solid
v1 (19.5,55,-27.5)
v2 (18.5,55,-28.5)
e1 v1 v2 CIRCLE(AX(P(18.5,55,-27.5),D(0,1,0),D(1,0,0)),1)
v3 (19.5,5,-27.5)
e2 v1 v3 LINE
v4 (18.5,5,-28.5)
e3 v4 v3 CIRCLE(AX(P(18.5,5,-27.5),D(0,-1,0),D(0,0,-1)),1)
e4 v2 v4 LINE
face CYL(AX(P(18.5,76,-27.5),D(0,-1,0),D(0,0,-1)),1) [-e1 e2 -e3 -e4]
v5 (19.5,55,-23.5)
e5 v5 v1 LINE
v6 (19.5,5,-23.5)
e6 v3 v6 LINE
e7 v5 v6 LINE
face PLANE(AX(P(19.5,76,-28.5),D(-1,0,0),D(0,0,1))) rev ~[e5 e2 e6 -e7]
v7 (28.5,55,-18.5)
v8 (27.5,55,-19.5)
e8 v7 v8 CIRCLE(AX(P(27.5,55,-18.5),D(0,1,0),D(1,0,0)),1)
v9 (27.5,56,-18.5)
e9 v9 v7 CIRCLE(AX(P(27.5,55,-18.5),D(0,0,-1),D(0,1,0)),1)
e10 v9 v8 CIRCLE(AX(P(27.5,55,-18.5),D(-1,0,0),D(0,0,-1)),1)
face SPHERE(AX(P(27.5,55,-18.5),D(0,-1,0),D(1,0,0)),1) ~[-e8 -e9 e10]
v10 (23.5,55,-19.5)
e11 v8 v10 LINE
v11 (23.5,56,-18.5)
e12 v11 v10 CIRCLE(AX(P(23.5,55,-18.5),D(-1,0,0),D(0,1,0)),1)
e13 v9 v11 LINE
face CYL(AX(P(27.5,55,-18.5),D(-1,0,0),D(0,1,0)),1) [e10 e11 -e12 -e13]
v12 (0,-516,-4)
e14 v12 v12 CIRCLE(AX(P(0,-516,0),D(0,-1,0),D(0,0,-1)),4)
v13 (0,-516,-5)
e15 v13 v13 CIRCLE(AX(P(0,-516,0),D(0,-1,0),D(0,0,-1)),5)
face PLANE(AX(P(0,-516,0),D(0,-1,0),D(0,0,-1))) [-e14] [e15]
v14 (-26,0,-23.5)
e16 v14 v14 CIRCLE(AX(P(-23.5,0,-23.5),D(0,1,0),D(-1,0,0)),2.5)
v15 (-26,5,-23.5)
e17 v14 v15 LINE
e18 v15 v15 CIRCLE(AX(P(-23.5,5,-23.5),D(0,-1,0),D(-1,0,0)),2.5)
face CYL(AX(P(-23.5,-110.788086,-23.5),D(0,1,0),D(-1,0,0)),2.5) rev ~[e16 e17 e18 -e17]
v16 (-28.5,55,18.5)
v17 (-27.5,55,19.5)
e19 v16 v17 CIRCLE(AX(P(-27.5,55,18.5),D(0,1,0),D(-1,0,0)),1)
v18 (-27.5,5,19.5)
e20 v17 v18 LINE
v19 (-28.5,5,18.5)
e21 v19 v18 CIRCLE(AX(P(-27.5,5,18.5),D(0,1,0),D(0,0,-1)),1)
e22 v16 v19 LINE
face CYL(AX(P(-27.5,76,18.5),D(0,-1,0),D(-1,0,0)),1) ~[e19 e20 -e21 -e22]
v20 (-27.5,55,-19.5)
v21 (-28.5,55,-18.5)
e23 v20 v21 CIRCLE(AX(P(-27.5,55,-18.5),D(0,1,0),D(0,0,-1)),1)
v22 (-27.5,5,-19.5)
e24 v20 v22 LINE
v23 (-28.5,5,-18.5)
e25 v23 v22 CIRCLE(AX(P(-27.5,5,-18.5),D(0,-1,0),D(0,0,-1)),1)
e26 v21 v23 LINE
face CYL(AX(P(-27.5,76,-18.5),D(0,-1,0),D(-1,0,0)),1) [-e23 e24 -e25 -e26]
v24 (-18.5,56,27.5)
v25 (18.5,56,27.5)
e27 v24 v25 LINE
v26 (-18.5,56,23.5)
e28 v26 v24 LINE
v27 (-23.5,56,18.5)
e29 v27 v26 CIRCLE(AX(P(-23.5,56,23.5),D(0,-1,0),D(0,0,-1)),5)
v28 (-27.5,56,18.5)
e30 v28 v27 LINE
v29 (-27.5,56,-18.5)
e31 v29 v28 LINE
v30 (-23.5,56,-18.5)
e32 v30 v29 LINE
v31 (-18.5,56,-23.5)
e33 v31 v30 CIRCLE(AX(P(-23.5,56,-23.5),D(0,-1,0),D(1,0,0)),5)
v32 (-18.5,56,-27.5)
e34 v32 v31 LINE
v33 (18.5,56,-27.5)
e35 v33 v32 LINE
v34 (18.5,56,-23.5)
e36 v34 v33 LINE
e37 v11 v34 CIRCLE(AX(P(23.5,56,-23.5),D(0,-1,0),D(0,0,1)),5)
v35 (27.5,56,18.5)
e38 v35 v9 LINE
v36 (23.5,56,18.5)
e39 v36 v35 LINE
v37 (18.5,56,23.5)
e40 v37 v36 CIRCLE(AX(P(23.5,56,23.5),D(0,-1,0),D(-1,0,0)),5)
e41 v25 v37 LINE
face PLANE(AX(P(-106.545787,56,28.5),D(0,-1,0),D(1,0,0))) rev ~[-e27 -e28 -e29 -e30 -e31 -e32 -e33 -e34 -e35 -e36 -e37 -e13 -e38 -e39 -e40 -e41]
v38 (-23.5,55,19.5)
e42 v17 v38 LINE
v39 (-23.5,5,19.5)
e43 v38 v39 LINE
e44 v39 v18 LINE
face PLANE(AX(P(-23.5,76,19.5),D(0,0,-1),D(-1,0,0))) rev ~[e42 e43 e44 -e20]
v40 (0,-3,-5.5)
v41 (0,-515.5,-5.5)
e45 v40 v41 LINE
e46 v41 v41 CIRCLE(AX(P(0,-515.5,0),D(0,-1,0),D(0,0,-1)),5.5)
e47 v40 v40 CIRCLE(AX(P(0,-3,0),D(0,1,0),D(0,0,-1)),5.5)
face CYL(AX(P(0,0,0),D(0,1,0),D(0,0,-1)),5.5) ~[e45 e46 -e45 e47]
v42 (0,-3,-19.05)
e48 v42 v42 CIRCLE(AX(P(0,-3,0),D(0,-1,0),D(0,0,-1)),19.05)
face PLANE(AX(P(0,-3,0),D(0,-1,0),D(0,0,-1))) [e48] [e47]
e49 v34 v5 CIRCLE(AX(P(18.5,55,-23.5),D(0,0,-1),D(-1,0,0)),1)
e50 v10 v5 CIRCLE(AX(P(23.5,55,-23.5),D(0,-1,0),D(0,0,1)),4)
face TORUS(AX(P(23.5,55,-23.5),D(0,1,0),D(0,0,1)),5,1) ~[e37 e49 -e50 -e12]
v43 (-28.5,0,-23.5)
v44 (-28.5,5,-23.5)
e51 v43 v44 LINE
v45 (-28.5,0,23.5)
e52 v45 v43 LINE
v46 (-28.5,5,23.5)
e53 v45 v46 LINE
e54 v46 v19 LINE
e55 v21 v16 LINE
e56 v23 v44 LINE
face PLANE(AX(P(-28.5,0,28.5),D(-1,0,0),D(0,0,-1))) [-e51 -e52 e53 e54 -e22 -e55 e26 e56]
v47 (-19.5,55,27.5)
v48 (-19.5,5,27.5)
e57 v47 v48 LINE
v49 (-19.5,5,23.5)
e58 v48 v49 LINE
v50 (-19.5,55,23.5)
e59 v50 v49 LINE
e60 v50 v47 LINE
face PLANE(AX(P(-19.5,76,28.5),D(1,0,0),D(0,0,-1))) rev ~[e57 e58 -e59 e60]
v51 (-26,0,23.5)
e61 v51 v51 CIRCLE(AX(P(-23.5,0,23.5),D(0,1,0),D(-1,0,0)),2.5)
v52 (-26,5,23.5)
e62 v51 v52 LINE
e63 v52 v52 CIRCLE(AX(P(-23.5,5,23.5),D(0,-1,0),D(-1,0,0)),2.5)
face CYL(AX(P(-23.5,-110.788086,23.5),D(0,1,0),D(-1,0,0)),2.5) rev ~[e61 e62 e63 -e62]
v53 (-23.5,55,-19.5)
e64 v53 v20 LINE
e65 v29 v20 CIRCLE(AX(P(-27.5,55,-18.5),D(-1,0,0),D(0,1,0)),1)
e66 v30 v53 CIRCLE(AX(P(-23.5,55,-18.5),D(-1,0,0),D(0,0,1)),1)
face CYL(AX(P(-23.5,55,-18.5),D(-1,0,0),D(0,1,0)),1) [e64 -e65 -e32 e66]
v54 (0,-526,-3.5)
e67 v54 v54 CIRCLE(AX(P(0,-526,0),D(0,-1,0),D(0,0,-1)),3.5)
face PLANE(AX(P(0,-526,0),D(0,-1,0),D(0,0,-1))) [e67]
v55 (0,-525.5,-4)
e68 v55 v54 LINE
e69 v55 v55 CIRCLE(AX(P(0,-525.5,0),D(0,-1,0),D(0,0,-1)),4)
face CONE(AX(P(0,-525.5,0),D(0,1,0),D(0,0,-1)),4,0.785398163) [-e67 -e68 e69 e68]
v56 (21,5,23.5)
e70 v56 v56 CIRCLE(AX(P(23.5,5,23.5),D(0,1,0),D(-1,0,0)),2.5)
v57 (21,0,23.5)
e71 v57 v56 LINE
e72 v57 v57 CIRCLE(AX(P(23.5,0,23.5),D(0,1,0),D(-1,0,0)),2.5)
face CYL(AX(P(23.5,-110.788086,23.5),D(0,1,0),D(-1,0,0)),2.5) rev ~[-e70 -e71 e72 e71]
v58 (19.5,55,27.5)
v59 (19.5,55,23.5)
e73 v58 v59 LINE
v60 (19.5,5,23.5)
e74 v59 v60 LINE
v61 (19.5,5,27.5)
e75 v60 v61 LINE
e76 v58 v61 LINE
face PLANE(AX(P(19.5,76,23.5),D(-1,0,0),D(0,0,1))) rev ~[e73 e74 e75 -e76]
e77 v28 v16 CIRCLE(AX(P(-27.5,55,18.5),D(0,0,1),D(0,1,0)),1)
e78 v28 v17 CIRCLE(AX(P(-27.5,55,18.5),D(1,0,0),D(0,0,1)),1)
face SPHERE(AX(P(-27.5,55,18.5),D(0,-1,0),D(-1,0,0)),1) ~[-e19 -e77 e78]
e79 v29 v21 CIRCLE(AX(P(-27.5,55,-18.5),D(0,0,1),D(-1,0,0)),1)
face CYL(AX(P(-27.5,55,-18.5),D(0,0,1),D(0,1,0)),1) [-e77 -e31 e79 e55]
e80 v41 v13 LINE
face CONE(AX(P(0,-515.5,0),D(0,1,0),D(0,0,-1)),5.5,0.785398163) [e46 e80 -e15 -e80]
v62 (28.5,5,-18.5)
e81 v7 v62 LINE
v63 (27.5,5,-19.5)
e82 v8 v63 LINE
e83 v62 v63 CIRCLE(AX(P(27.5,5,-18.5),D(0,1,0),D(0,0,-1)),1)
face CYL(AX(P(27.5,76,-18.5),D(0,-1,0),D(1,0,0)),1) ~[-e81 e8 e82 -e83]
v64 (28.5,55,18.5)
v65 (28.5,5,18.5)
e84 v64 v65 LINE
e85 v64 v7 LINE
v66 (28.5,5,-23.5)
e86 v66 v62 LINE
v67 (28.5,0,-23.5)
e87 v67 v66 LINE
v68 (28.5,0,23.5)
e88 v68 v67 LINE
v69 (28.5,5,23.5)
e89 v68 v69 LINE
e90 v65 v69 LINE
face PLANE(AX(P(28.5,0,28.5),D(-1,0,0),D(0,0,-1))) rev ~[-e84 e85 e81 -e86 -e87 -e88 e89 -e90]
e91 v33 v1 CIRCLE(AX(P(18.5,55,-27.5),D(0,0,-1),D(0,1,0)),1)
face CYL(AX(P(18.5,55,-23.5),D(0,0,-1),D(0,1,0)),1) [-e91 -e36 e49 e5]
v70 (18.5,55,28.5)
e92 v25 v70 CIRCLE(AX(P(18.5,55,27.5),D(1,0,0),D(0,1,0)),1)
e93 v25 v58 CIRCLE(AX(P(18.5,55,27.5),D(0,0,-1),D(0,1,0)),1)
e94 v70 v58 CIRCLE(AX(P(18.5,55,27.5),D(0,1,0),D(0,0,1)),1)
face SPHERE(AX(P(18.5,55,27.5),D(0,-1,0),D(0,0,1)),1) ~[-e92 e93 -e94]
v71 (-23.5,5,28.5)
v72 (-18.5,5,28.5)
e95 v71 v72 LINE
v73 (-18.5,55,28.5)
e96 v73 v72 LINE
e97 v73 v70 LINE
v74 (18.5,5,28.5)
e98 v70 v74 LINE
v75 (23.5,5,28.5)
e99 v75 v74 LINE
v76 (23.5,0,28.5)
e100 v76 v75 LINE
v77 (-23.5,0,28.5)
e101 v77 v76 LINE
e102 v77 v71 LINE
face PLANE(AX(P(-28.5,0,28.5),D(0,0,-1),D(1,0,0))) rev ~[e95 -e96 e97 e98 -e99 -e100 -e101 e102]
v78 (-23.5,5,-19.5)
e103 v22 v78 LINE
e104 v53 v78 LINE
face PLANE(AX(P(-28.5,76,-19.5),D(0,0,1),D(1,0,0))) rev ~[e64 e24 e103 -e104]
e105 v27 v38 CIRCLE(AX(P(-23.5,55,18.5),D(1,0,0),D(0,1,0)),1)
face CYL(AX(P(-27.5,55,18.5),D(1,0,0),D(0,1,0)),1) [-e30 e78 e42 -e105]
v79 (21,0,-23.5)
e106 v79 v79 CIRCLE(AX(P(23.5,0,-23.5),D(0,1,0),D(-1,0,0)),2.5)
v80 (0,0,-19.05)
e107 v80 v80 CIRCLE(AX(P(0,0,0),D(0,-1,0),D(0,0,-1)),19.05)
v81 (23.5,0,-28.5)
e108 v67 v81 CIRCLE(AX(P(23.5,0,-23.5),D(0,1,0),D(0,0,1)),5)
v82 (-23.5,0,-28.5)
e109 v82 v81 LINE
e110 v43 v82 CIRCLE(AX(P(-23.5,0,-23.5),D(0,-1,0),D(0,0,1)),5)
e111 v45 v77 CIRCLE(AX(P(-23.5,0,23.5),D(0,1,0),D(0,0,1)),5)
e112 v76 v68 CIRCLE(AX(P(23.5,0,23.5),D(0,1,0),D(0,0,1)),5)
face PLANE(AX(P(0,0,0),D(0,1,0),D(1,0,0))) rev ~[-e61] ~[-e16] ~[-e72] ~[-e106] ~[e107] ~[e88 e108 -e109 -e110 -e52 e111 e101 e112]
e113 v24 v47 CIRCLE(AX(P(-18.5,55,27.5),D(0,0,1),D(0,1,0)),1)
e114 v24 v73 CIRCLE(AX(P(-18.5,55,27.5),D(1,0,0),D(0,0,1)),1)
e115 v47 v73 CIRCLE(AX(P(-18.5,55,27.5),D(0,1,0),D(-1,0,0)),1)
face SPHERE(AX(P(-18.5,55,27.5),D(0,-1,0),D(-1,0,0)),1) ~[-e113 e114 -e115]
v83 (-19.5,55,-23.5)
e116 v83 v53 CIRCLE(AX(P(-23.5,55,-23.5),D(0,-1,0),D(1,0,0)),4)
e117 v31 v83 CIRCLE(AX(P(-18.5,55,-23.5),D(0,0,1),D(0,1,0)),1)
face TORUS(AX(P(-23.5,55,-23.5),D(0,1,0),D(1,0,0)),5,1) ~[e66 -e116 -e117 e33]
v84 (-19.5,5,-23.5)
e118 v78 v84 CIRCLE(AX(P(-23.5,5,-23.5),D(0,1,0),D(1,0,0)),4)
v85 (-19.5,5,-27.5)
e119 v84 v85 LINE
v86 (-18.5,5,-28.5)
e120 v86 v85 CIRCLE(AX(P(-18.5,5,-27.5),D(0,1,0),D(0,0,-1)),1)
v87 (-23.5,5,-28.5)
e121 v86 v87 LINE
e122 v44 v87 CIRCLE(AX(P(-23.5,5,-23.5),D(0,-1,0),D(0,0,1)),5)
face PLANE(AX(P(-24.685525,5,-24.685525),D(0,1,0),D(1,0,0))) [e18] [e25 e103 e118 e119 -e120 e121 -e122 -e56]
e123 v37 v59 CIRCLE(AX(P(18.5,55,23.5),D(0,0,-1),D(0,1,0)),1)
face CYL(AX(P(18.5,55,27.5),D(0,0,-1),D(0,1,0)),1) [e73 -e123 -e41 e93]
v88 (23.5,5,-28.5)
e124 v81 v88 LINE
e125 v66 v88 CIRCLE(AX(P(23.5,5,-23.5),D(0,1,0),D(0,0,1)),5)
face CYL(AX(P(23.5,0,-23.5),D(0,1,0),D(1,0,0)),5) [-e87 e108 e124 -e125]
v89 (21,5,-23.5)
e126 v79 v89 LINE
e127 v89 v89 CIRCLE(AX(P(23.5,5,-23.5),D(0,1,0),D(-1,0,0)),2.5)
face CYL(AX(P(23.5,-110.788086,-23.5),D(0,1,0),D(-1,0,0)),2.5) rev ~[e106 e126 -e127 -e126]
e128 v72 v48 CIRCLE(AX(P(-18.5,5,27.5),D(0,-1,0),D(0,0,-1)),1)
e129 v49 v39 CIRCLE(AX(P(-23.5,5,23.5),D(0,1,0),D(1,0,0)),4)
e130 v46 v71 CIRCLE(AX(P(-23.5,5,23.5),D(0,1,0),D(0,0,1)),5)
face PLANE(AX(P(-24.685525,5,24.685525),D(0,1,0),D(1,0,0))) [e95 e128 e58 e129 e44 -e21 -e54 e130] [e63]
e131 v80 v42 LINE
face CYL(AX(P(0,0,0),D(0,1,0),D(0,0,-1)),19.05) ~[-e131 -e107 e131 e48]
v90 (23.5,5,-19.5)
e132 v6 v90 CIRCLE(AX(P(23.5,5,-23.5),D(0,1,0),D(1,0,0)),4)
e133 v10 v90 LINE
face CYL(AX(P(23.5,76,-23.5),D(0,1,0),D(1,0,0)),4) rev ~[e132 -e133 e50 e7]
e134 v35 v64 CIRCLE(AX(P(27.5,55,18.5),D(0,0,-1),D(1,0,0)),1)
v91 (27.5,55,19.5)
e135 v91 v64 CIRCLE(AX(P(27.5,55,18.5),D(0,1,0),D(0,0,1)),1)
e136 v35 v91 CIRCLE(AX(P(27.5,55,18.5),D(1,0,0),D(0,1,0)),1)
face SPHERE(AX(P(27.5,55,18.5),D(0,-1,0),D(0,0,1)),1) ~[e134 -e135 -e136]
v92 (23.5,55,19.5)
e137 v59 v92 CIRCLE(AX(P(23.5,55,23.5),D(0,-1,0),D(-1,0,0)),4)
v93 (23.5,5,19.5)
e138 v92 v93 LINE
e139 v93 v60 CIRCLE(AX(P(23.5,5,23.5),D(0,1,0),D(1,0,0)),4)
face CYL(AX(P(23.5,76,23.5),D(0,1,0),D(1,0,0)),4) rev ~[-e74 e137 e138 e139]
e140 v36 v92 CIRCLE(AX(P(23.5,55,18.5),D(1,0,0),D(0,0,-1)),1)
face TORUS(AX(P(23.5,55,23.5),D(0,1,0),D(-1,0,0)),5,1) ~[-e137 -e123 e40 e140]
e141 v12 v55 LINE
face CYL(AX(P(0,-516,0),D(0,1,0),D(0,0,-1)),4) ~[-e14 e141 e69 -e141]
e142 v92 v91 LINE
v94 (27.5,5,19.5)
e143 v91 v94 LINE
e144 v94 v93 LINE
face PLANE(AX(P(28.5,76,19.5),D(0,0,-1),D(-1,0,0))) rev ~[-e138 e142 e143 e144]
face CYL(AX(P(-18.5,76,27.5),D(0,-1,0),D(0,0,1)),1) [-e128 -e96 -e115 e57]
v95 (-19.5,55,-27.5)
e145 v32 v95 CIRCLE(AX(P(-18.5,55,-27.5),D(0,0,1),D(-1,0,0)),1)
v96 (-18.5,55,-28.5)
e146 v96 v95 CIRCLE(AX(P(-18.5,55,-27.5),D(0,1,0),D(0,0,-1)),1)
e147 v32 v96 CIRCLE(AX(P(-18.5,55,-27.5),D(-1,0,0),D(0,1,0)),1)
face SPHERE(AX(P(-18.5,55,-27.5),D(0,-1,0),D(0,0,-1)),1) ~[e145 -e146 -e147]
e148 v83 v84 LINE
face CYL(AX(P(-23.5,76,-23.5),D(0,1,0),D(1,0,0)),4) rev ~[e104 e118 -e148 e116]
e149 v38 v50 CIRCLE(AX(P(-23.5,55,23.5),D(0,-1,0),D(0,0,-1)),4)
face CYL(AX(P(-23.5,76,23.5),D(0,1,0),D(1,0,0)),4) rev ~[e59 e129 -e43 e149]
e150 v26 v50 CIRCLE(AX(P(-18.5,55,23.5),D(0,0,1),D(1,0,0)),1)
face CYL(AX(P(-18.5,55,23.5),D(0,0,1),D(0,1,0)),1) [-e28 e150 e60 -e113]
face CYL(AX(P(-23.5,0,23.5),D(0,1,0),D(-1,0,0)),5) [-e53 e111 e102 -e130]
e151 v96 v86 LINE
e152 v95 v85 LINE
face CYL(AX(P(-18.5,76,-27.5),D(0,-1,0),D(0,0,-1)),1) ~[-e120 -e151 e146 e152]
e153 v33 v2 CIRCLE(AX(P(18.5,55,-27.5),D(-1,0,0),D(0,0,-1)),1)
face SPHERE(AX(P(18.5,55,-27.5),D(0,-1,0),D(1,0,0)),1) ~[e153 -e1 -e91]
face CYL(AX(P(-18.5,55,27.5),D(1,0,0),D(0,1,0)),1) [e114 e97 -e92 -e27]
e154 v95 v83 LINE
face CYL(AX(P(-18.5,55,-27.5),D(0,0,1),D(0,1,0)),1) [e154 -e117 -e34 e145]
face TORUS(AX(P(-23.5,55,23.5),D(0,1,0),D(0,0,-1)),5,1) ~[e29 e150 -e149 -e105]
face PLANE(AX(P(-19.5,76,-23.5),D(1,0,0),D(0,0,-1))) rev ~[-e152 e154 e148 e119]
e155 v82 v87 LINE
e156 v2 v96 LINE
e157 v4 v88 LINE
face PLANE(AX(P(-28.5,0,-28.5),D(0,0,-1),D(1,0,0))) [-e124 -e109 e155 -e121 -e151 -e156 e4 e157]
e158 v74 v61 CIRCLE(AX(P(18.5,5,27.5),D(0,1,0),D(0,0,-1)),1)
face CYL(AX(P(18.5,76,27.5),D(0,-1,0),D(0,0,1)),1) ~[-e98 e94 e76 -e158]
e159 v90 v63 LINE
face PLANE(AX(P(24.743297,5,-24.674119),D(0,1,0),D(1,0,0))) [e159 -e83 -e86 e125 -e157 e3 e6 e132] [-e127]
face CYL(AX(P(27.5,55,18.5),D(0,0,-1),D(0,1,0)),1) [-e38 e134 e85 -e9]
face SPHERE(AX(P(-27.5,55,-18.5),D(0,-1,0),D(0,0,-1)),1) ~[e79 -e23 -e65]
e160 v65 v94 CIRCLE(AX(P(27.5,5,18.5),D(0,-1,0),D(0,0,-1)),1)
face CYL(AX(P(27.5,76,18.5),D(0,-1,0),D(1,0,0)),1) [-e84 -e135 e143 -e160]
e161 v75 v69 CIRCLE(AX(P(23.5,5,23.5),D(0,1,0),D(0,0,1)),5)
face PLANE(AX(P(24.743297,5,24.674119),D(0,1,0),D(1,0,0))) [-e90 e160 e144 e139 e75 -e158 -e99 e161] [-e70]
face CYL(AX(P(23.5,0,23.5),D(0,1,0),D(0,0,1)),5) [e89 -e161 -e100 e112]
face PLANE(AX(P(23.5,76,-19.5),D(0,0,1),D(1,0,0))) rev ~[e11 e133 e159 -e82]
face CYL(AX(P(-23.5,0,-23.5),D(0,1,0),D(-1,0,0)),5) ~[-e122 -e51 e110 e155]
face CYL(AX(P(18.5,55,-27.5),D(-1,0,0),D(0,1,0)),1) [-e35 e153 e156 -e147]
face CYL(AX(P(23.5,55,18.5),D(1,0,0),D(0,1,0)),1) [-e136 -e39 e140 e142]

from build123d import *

# Parameters (mm, degrees)
SKETCH1_W                = 57
SKETCH1_H                = 57
EXTRUDE1_DEPTH           = 76
F_5_0_5_DIAMETER_HOLE1_D = 5
SKETCH6_R                = 4
SKETCH6_R_2              = 2.5
EXTRUDE4_DEPTH           = 71
FILLET1_R                = 5
SKETCH7_R                = 3
EXTRUDE5_DEPTH           = 101
SKETCH8_R                = 19.05
EXTRUDE6_DEPTH           = 3
FILLET2_R                = 1
SKETCH9_R                = 5.5
BOSS_EXTRUDE1_DEPTH      = 516
CHAMFER1_SIZE            = 0.5
SKETCH10_R               = 4
BOSS_EXTRUDE2_DEPTH      = 10
CHAMFER2_SIZE            = 0.5
CUT_EXTRUDE1_REACH       = 531.846
SKETCH11_W               = 149.278962391
SKETCH11_H               = 91.97748865
FILLET3_R                = 1


with BuildPart() as part:
    # Sketch1 → Extrude1 (new body)
    with BuildSketch(Plane(origin=(0, 0, 0), x_dir=(1, 0, 0), z_dir=(0, 1, 0))):
        Rectangle(SKETCH1_W, SKETCH1_H)
    extrude(amount=EXTRUDE1_DEPTH)

    # Ø5.0 (5) Diameter Hole1 (through all)
    with Locations(Plane.XZ):
        with Locations((-23.5, 23.5), (23.5, 23.5), (23.5, -23.5), (-23.5, -23.5)):
            Hole(F_5_0_5_DIAMETER_HOLE1_D / 2)

    # Sketch6 → Extrude4 (cut)
    # profile 1 of 12: a face of its own
    with BuildSketch(Plane(origin=(0, 76, 0), x_dir=(1, 0, 0), z_dir=(0, 1, 0))):
        Polygon((-28.5, 28.5), (-19.5, 28.5), (-19.5, 32.511741208), (-33.908905561, 32.511741208), (-33.908905561, 19.5), (-28.5, 19.5), align=None)
    # profile 2 of 12: a face of its own
    with BuildSketch(Plane(origin=(0, 76, 0), x_dir=(1, 0, 0), z_dir=(0, 1, 0))):
        with BuildLine():
            ThreePointArc((-23.5, 19.5), (-26.328427125, 26.328427125), (-19.5, 23.5))
            Line((-19.5, 23.5), (-19.5, 28.5))
            Line((-19.5, 28.5), (-28.5, 28.5))
            Line((-28.5, 28.5), (-28.5, 19.5))
            Line((-28.5, 19.5), (-23.5, 19.5))
        make_face()
    # profile 3 of 12: a face of its own
    with BuildSketch(Plane(origin=(0, 76, 0), x_dir=(1, 0, 0), z_dir=(0, 1, 0))):
        with Locations((-23.5, 23.5)):
            Circle(SKETCH6_R)
        with Locations(Location((-23.5, 23.5, 0), (0, 0, 90))):
            Circle(SKETCH6_R_2, mode=Mode.SUBTRACT)
    # profile 4 of 12: a face of its own
    with BuildSketch(Plane(origin=(0, 76, 0), x_dir=(1, 0, 0), z_dir=(0, 1, 0))):
        Polygon((19.5, 36.471560472), (19.5, 28.5), (28.5, 28.5), (28.5, 19.5), (41.168352552, 19.5), (41.168352552, 36.471560472), align=None)
    # profile 5 of 12: a face of its own
    with BuildSketch(Plane(origin=(0, 76, 0), x_dir=(1, 0, 0), z_dir=(0, 1, 0))):
        with BuildLine():
            Line((28.5, 28.5), (19.5, 28.5))
            Line((19.5, 28.5), (19.5, 23.5))
            ThreePointArc((19.5, 23.5), (23.5, 27.5), (27.5, 23.5))
            ThreePointArc((27.5, 23.5), (26.328427125, 20.671572875), (23.5, 19.5))
            Line((23.5, 19.5), (28.5, 19.5))
            Line((28.5, 19.5), (28.5, 28.5))
        make_face()
    # profile 6 of 12: a face of its own
    with BuildSketch(Plane(origin=(0, 76, 0), x_dir=(1, 0, 0), z_dir=(0, 1, 0))):
        with Locations((23.5, 23.5)):
            Circle(SKETCH6_R)
        with Locations(Location((23.5, 23.5, 0), (0, 0, 90))):
            Circle(SKETCH6_R_2, mode=Mode.SUBTRACT)
    # profile 7 of 12: a face of its own
    with BuildSketch(Plane(origin=(0, 76, 0), x_dir=(1, 0, 0), z_dir=(0, 1, 0))):
        with Locations((23.5, -23.5)):
            Circle(SKETCH6_R)
        with Locations(Location((23.5, -23.5, 0), (0, 0, 90))):
            Circle(SKETCH6_R_2, mode=Mode.SUBTRACT)
    # profile 8 of 12: a face of its own
    with BuildSketch(Plane(origin=(0, 76, 0), x_dir=(1, 0, 0), z_dir=(0, 1, 0))):
        with BuildLine():
            Line((28.5, -28.5), (28.5, -19.5))
            Line((28.5, -19.5), (23.5, -19.5))
            ThreePointArc((23.5, -19.5), (26.328427125, -20.671572875), (27.5, -23.5))
            ThreePointArc((27.5, -23.5), (23.5, -27.5), (19.5, -23.5))
            Line((19.5, -23.5), (19.5, -28.5))
            Line((19.5, -28.5), (28.5, -28.5))
        make_face()
    # profile 9 of 12: a face of its own
    with BuildSketch(Plane(origin=(0, 76, 0), x_dir=(1, 0, 0), z_dir=(0, 1, 0))):
        Polygon((44.252209519, -19.5), (28.5, -19.5), (28.5, -28.5), (19.5, -28.5), (19.5, -40.050429997), (44.252209519, -40.050429997), align=None)
    # profile 10 of 12: a face of its own
    with BuildSketch(Plane(origin=(0, 76, 0), x_dir=(1, 0, 0), z_dir=(0, 1, 0))):
        Polygon((-28.5, -28.5), (-28.5, -19.5), (-37.670786859, -19.5), (-37.670786859, -37.828231874), (-19.5, -37.828231874), (-19.5, -28.5), align=None)
    # profile 11 of 12: a face of its own
    with BuildSketch(Plane(origin=(0, 76, 0), x_dir=(1, 0, 0), z_dir=(0, 1, 0))):
        with BuildLine():
            Line((-23.5, -19.5), (-28.5, -19.5))
            Line((-28.5, -19.5), (-28.5, -28.5))
            Line((-28.5, -28.5), (-19.5, -28.5))
            Line((-19.5, -28.5), (-19.5, -23.5))
            ThreePointArc((-19.5, -23.5), (-26.328427125, -26.328427125), (-23.5, -19.5))
        make_face()
    # profile 12 of 12: a face of its own
    with BuildSketch(Plane(origin=(0, 76, 0), x_dir=(1, 0, 0), z_dir=(0, 1, 0))):
        with Locations((-23.5, -23.5)):
            Circle(SKETCH6_R)
        with Locations(Location((-23.5, -23.5, 0), (0, 0, 90))):
            Circle(SKETCH6_R_2, mode=Mode.SUBTRACT)
    extrude(amount=-EXTRUDE4_DEPTH, mode=Mode.SUBTRACT)

    # Fillet1
    fillet1_edges = [part.edges().sort_by_distance(p)[0] for p in [
        (-28.5, 2.5, 28.5),
        (-28.5, 2.5, -28.5),
        (28.5, 2.5, -28.5),
        (28.5, 2.5, 28.5),
    ]]
    fillet(fillet1_edges, radius=FILLET1_R)



with BuildPart() as body_2:
    # Sketch7 → Extrude5 (new body)
    with BuildSketch(Plane(origin=(0, 76, 0), x_dir=(1, 0, 0), z_dir=(0, 1, 0))):
        with Locations(Location((0, 0, 0), (0, 0, 270))):
            Circle(SKETCH7_R)
    extrude(amount=-EXTRUDE5_DEPTH)


with BuildPart() as part_1:
    add(part.part)

    add(body_2.part)  # Extrude6 merges body 2
    # Sketch8 → Extrude6 (add)
    with BuildSketch(Plane.XZ):
        with Locations(Location((0, 0, 0), (0, 0, 270))):
            Circle(SKETCH8_R)
    extrude(amount=EXTRUDE6_DEPTH)

    # Fillet2
    fillet2_edges = [part_1.edges().sort_by_distance(p)[0] for p in [
        (-28.5, 40.5, 19.5),
        (0, 76, 28.5),
        (-19.5, 40.5, 28.5),
        (-19.5, 76, 26),
        (-20.671572875, 76, 20.671572875),
        (-26, 76, 19.5),
        (-28.5, 76, 0),
        (-28.5, 40.5, -19.5),
        (-19.5, 40.5, -28.5),
        (-19.5, 76, -26),
        (-26, 76, -19.5),
        (-20.671572875, 76, -20.671572875),
        (0, 76, -28.5),
        (19.5, 76, -26),
        (26, 76, -19.5),
        (20.671572875, 76, -20.671572875),
        (19.5, 40.5, -28.5),
        (28.5, 40.5, -19.5),
        (19.5, 40.5, 28.5),
        (28.5, 76, 0),
        (26, 76, 19.5),
        (19.5, 76, 26),
        (20.671572875, 76, 20.671572875),
        (28.5, 40.5, 19.5),
    ]]
    fillet(fillet2_edges, radius=FILLET2_R)

    # Sketch9 → Boss-Extrude1 (add)
    with BuildSketch(Plane.XZ):
        with Locations(Location((0, 0, 0), (0, 0, 270))):
            Circle(SKETCH9_R)
    extrude(amount=BOSS_EXTRUDE1_DEPTH)

    # Chamfer1
    chamfer1_edges = [part_1.edges().sort_by_distance(p)[0] for p in [
        (0, -516, 5.5),
    ]]
    chamfer(chamfer1_edges, length=CHAMFER1_SIZE)

    # Sketch10 → Boss-Extrude2 (add)
    with BuildSketch(Plane.XZ.offset(516)):
        with Locations(Location((0, 0, 0), (0, 0, 270))):
            Circle(SKETCH10_R)
    extrude(amount=BOSS_EXTRUDE2_DEPTH)

    # Chamfer2
    chamfer2_edges = [part_1.edges().sort_by_distance(p)[0] for p in [
        (0, -526, 4),
    ]]
    chamfer(chamfer2_edges, length=CHAMFER2_SIZE)

    # Sketch11 → Cut-Extrude1 (cut, up to next)
    with BuildSketch(Plane.XY.offset(28.5), mode=Mode.PRIVATE) as cut_extrude1_sk1:
        with Locations((-31.906305919, 101.988744325)):
            Rectangle(SKETCH11_W, SKETCH11_H)
    cut_extrude1_tool1 = extrude(cut_extrude1_sk1.sketch, amount=-CUT_EXTRUDE1_REACH, mode=Mode.PRIVATE) & part_1.part
    add(cut_extrude1_tool1.solids().sort_by_distance((-31.906306, 101.988744, 28.5))[0], mode=Mode.SUBTRACT)

    # Fillet3
    fillet3_edges = [part_1.edges().sort_by_distance(p)[0] for p in [
        (19.5, 56, 25.5),
        (19.207106781, 56, 28.207106781),
        (-19.207106781, 56, 28.207106781),
        (-28.207106781, 56, 19.207106781),
        (-28.207106781, 56, -19.207106781),
        (-19.207106781, 56, -28.207106781),
        (19.207106781, 56, -28.207106781),
        (19.5, 56, -25.5),
        (25.5, 56, -19.5),
        (28.207106781, 56, -19.207106781),
        (28.207106781, 56, 19.207106781),
        (25.5, 56, 19.5),
        (0, 56, 28.5),
        (28.5, 56, 0),
        (0, 56, -28.5),
        (-28.5, 56, 0),
        (-25.5, 56, -19.5),
        (-19.5, 56, -25.5),
        (-20.671572875, 56, -20.671572875),
        (20.671572875, 56, -20.671572875),
        (20.671572875, 56, 20.671572875),
        (-19.5, 56, 25.5),
        (-25.5, 56, 19.5),
        (-20.671572875, 56, 20.671572875),
    ]]
    fillet(fillet3_edges, radius=FILLET3_R)


solid = part_1.part
